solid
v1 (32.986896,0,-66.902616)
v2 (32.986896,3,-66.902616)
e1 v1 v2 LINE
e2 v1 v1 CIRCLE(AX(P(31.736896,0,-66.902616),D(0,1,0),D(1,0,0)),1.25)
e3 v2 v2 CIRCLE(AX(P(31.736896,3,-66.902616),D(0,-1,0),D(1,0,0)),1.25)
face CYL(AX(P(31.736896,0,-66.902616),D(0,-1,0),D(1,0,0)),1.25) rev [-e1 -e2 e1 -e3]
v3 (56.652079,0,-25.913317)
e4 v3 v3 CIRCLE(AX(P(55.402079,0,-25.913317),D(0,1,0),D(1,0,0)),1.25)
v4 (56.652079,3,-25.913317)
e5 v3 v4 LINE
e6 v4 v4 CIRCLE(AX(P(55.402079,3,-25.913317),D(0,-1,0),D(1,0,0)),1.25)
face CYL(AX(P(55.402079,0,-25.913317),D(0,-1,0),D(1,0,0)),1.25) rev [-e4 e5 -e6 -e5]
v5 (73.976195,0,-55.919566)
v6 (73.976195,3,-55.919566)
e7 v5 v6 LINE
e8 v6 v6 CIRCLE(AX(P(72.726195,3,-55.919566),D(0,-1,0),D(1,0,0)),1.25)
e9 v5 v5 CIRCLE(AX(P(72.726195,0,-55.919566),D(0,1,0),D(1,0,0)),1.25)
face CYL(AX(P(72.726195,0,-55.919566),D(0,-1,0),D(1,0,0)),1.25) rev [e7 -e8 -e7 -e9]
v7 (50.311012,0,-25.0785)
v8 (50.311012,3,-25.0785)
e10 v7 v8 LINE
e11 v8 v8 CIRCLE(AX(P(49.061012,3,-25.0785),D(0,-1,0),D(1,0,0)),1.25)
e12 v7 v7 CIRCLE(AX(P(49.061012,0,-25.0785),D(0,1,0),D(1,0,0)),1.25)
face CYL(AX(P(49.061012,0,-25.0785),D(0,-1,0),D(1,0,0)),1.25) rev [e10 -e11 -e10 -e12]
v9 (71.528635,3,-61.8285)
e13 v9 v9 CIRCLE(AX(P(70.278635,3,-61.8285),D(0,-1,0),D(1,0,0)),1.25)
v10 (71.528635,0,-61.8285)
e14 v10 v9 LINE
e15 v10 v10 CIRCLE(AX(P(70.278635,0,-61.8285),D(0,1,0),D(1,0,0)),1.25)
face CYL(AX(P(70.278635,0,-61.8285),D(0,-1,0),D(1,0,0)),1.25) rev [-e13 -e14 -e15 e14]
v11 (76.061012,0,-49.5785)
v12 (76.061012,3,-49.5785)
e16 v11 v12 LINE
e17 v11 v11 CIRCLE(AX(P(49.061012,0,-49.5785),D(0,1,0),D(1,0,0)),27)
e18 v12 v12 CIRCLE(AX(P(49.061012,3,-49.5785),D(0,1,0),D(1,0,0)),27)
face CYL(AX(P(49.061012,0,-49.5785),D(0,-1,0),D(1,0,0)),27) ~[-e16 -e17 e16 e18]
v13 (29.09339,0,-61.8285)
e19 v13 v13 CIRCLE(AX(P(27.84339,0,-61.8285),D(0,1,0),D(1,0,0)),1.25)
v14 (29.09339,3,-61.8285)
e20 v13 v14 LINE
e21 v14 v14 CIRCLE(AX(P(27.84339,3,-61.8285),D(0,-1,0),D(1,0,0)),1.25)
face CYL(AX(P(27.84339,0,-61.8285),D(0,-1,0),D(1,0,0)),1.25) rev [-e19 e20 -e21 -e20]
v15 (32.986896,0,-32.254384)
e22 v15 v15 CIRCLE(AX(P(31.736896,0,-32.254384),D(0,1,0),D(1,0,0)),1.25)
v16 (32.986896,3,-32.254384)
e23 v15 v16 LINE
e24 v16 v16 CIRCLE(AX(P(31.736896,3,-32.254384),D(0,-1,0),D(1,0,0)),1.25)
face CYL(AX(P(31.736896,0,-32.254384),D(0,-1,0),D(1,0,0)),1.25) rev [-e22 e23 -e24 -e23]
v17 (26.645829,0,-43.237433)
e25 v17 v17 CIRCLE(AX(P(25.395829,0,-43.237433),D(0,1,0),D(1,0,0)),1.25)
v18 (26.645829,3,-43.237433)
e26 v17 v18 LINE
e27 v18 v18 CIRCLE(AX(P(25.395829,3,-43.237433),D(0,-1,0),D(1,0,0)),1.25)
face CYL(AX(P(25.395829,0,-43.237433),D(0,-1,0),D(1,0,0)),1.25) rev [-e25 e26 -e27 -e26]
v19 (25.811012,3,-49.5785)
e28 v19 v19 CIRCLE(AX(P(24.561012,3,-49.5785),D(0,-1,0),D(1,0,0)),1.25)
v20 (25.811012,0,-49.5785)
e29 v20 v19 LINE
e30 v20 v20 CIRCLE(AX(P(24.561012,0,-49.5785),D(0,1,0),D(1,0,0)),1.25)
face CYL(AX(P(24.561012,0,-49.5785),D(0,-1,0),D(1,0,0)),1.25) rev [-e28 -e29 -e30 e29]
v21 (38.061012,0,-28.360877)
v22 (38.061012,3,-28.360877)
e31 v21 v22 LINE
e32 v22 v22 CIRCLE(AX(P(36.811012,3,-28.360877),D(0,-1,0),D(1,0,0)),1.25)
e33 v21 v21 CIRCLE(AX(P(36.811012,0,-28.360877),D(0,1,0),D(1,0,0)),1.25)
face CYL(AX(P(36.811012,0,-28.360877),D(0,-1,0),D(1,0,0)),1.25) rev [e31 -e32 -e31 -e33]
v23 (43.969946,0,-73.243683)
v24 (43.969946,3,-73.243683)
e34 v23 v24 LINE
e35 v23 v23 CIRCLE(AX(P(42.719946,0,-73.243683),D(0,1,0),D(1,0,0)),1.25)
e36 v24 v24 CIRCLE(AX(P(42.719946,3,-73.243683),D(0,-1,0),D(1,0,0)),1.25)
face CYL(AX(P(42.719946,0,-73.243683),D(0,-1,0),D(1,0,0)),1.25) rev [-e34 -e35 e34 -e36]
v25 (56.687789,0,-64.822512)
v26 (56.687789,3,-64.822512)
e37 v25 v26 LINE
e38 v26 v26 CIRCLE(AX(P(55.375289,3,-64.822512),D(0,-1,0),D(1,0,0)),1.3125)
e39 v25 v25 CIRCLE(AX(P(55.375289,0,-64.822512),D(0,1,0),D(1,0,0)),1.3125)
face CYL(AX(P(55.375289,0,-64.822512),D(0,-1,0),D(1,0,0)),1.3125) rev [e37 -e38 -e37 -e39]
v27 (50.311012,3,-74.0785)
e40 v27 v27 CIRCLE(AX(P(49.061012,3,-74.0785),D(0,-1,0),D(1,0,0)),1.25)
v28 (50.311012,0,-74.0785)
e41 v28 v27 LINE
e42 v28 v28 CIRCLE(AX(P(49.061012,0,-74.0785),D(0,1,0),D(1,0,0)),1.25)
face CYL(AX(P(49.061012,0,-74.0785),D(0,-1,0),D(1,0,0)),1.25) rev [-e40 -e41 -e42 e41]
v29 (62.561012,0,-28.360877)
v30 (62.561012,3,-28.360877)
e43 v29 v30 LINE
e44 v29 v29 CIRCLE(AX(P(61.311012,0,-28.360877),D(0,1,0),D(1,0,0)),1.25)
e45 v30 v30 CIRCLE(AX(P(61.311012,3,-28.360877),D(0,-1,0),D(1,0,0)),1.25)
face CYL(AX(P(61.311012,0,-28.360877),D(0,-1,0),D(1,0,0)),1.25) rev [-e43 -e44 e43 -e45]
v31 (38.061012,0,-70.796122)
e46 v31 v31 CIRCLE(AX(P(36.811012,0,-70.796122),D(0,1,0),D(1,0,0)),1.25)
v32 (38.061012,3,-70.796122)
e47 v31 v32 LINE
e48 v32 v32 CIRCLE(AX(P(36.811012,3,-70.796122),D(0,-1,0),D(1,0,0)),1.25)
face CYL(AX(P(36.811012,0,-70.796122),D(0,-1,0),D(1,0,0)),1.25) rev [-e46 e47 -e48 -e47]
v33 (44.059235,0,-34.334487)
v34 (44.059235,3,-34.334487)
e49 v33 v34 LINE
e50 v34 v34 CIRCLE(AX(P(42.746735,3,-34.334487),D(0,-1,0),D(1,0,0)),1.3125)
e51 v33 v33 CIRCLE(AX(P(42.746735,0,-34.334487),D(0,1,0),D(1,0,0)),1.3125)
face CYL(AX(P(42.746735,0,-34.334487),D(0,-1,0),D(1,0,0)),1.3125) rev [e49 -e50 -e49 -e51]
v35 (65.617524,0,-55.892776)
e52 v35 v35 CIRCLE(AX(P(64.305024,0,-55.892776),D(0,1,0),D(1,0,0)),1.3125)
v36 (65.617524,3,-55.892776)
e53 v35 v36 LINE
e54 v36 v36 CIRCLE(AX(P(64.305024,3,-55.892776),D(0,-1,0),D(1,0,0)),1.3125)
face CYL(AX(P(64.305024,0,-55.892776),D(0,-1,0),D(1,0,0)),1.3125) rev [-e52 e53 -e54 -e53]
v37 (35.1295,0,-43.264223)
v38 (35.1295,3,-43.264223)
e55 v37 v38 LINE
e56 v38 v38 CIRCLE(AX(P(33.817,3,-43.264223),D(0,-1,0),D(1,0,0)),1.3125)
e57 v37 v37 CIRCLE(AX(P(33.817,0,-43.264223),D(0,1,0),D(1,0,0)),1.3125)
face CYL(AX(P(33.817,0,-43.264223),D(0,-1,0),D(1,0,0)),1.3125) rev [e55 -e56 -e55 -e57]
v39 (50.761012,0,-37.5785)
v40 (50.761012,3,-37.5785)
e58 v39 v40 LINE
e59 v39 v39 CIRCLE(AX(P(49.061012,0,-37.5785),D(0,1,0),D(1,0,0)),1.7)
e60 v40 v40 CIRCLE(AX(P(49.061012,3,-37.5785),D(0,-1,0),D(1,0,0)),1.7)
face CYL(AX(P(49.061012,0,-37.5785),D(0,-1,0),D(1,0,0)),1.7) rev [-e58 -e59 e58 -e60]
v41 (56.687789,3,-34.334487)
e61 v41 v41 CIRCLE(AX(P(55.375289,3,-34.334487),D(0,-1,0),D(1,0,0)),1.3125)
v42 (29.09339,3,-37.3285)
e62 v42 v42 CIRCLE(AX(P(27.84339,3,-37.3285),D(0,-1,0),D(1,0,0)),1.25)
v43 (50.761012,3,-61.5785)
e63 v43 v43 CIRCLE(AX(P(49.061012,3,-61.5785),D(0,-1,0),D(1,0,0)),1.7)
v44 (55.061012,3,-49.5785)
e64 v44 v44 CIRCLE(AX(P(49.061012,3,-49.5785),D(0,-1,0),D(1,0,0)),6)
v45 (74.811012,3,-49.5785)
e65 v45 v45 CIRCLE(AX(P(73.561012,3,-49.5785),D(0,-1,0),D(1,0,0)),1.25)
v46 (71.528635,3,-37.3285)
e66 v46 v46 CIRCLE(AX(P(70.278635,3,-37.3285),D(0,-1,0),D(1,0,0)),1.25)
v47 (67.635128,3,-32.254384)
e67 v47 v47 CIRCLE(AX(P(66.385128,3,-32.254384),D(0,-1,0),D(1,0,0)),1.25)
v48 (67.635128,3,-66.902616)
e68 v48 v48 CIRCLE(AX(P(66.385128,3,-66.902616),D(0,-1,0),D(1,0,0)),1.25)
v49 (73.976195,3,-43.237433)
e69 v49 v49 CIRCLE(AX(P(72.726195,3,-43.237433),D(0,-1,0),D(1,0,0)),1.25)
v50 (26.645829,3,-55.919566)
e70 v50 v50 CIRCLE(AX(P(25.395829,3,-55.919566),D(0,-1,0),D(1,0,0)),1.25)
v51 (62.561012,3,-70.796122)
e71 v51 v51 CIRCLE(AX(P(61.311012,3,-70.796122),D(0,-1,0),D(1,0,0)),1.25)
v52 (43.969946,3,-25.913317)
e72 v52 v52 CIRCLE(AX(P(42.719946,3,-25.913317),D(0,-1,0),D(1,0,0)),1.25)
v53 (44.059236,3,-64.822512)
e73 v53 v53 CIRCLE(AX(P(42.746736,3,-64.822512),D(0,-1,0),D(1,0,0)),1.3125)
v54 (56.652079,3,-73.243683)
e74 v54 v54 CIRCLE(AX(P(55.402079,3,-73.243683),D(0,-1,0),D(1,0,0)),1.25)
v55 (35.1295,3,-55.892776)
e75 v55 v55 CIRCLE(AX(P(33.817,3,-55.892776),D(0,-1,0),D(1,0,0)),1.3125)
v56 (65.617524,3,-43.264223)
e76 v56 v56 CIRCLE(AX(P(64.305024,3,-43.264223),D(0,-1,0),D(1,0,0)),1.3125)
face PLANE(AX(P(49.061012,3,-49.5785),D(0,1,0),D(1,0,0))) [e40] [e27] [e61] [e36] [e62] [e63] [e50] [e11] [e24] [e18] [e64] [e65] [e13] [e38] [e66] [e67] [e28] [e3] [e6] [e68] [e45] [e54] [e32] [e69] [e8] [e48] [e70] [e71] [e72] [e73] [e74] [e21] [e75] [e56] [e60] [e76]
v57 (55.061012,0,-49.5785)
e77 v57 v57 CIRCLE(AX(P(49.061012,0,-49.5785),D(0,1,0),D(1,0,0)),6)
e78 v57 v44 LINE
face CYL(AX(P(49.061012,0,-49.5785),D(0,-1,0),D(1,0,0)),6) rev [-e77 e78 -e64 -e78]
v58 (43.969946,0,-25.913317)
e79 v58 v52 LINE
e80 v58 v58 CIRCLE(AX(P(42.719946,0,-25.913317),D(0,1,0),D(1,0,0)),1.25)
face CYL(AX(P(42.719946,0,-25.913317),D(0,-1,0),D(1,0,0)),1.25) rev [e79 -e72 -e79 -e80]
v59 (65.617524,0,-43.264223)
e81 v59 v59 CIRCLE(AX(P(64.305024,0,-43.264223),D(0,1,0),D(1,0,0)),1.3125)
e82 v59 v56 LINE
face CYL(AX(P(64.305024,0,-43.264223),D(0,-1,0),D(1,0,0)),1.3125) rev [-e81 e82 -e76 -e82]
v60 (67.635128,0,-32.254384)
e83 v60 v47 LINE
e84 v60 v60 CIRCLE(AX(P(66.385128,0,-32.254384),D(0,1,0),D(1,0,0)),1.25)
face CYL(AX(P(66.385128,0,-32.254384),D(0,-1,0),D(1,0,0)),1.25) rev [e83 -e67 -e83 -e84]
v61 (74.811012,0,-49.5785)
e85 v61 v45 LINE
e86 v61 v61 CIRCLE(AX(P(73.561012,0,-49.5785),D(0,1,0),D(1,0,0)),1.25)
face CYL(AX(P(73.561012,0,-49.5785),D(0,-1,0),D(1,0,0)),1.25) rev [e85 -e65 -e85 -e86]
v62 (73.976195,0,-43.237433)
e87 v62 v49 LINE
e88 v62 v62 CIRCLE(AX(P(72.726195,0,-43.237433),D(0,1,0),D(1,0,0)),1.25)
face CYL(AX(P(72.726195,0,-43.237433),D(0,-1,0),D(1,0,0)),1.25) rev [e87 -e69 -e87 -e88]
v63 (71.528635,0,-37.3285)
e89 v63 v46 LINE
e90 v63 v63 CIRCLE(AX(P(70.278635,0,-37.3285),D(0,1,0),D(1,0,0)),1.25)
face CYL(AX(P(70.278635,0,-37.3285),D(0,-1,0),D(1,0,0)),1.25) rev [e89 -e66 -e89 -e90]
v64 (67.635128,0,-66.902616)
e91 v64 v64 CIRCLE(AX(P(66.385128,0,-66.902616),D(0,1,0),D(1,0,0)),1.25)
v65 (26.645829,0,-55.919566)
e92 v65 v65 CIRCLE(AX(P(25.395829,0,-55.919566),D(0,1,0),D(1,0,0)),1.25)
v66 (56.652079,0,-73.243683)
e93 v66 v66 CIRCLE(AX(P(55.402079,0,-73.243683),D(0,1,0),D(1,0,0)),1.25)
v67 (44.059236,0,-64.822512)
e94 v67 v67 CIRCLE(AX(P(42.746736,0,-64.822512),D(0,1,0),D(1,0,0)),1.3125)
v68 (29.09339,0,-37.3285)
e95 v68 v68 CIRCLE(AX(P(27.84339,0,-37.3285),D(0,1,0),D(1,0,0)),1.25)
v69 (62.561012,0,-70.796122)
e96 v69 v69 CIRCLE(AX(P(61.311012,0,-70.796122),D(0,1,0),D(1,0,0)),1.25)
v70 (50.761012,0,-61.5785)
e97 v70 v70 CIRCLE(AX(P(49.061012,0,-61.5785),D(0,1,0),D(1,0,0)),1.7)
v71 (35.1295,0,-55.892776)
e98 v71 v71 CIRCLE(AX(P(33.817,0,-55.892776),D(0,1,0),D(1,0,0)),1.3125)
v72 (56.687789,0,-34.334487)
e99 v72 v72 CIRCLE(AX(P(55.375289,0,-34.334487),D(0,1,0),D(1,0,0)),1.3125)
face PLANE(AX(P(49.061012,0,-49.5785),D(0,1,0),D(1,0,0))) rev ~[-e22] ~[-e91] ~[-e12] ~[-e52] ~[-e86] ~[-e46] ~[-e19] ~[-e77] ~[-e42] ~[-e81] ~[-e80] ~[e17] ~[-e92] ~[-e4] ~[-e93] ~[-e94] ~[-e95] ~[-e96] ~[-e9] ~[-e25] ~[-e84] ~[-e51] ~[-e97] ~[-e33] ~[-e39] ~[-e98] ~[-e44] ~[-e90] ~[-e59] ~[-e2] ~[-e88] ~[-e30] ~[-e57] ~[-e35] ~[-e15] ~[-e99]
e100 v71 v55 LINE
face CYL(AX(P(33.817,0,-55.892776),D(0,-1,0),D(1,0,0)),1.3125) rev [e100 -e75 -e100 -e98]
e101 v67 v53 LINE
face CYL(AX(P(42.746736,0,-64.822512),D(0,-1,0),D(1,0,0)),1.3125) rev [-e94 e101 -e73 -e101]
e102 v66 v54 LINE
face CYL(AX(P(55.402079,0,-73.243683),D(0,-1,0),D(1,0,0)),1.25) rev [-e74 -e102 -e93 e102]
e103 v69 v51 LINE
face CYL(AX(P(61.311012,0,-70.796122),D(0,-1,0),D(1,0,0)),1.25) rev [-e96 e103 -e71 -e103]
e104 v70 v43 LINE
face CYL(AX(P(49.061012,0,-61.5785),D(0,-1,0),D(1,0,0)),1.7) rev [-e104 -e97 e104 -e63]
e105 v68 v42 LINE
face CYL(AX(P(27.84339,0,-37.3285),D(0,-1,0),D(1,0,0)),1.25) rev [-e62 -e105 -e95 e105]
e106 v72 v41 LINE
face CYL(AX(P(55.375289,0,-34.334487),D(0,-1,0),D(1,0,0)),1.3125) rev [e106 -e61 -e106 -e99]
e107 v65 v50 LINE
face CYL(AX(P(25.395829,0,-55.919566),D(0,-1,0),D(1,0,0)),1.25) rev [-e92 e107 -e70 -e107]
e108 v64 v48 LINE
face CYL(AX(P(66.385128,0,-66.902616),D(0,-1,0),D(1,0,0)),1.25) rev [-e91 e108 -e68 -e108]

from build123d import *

# Parameters (mm, degrees)
SKETCH8_R           = 27
BOSS_EXTRUDE1_DEPTH = 3
CUT_EXTRUDE1_REACH  = 109.975
SKETCH6_R           = 6
CUT_EXTRUDE2_REACH  = 109.975
SKETCH7_R           = 1.7
CUT_EXTRUDE3_REACH  = 109.975
SKETCH9_R           = 1.25
CUT_EXTRUDE4_REACH  = 109.975
SKETCH11_R          = 1.3125


with BuildPart() as part:
    # Sketch8 → Boss-Extrude1 (new body)
    with BuildSketch(Plane(origin=(0, 0, 0), x_dir=(1, 0, 0), z_dir=(0, 1, 0))):
        with Locations((49.061012395, 49.578499829)):
            Circle(SKETCH8_R)
    extrude(amount=BOSS_EXTRUDE1_DEPTH)

    # Sketch6 → Cut-Extrude1 (cut, up to next)
    with BuildSketch(Plane(origin=(0, 0, 0), x_dir=(1, 0, 0), z_dir=(0, 1, 0)), mode=Mode.PRIVATE) as cut_extrude1_sk1:
        with Locations((49.061012163, 49.578499597)):
            Circle(SKETCH6_R)
    cut_extrude1_tool1 = extrude(cut_extrude1_sk1.sketch, amount=CUT_EXTRUDE1_REACH, mode=Mode.PRIVATE) & part.part
    add(cut_extrude1_tool1.solids().sort_by_distance((49.061012, 0, -49.5785))[0], mode=Mode.SUBTRACT)

    # Sketch7 → Cut-Extrude2 (cut, up to next)
    with BuildSketch(Plane(origin=(0, 0, 0), x_dir=(1, 0, 0), z_dir=(0, 1, 0)), mode=Mode.PRIVATE) as cut_extrude2_sk1:
        with Locations((49.061012163, 61.578499829)):
            Circle(SKETCH7_R)
    cut_extrude2_tool1 = extrude(cut_extrude2_sk1.sketch, amount=CUT_EXTRUDE2_REACH, mode=Mode.PRIVATE) & part.part
    # Sketch7 → Cut-Extrude2 (cut, up to next)
    with BuildSketch(Plane(origin=(0, 0, 0), x_dir=(1, 0, 0), z_dir=(0, 1, 0)), mode=Mode.PRIVATE) as cut_extrude2_sk2:
        with Locations((49.061012163, 37.578499829)):
            Circle(SKETCH7_R)
    cut_extrude2_tool2 = extrude(cut_extrude2_sk2.sketch, amount=CUT_EXTRUDE2_REACH, mode=Mode.PRIVATE) & part.part
    add(cut_extrude2_tool1.solids().sort_by_distance((49.061012, 0, -61.5785))[0], mode=Mode.SUBTRACT)
    add(cut_extrude2_tool2.solids().sort_by_distance((49.061012, 0, -37.5785))[0], mode=Mode.SUBTRACT)

    # Sketch9 → Cut-Extrude3 (cut, up to next)
    with BuildSketch(Plane(origin=(0, 0, 0), x_dir=(1, 0, 0), z_dir=(0, 1, 0)), mode=Mode.PRIVATE) as cut_extrude3_sk1:
        with Locations((49.061012163, 74.078499829)):
            Circle(SKETCH9_R)
    cut_extrude3_tool1 = extrude(cut_extrude3_sk1.sketch, amount=CUT_EXTRUDE3_REACH, mode=Mode.PRIVATE) & part.part
    # Sketch9 → Cut-Extrude3 (cut, up to next)
    with BuildSketch(Plane(origin=(0, 0, 0), x_dir=(1, 0, 0), z_dir=(0, 1, 0)), mode=Mode.PRIVATE) as cut_extrude3_sk2:
        with Locations((55.402078768, 73.243682573)):
            Circle(SKETCH9_R)
    cut_extrude3_tool2 = extrude(cut_extrude3_sk2.sketch, amount=CUT_EXTRUDE3_REACH, mode=Mode.PRIVATE) & part.part
    # Sketch9 → Cut-Extrude3 (cut, up to next)
    with BuildSketch(Plane(origin=(0, 0, 0), x_dir=(1, 0, 0), z_dir=(0, 1, 0)), mode=Mode.PRIVATE) as cut_extrude3_sk3:
        with Locations((61.311012163, 70.796122222)):
            Circle(SKETCH9_R)
    cut_extrude3_tool3 = extrude(cut_extrude3_sk3.sketch, amount=CUT_EXTRUDE3_REACH, mode=Mode.PRIVATE) & part.part
    # Sketch9 → Cut-Extrude3 (cut, up to next)
    with BuildSketch(Plane(origin=(0, 0, 0), x_dir=(1, 0, 0), z_dir=(0, 1, 0)), mode=Mode.PRIVATE) as cut_extrude3_sk4:
        with Locations((66.385128302, 66.902615968)):
            Circle(SKETCH9_R)
    cut_extrude3_tool4 = extrude(cut_extrude3_sk4.sketch, amount=CUT_EXTRUDE3_REACH, mode=Mode.PRIVATE) & part.part
    # Sketch9 → Cut-Extrude3 (cut, up to next)
    with BuildSketch(Plane(origin=(0, 0, 0), x_dir=(1, 0, 0), z_dir=(0, 1, 0)), mode=Mode.PRIVATE) as cut_extrude3_sk5:
        with Locations((70.278634556, 61.828499829)):
            Circle(SKETCH9_R)
    cut_extrude3_tool5 = extrude(cut_extrude3_sk5.sketch, amount=CUT_EXTRUDE3_REACH, mode=Mode.PRIVATE) & part.part
    # Sketch9 → Cut-Extrude3 (cut, up to next)
    with BuildSketch(Plane(origin=(0, 0, 0), x_dir=(1, 0, 0), z_dir=(0, 1, 0)), mode=Mode.PRIVATE) as cut_extrude3_sk6:
        with Locations((72.726194907, 55.919566434)):
            Circle(SKETCH9_R)
    cut_extrude3_tool6 = extrude(cut_extrude3_sk6.sketch, amount=CUT_EXTRUDE3_REACH, mode=Mode.PRIVATE) & part.part
    # Sketch9 → Cut-Extrude3 (cut, up to next)
    with BuildSketch(Plane(origin=(0, 0, 0), x_dir=(1, 0, 0), z_dir=(0, 1, 0)), mode=Mode.PRIVATE) as cut_extrude3_sk7:
        with Locations((73.561012163, 49.578499829)):
            Circle(SKETCH9_R)
    cut_extrude3_tool7 = extrude(cut_extrude3_sk7.sketch, amount=CUT_EXTRUDE3_REACH, mode=Mode.PRIVATE) & part.part
    # Sketch9 → Cut-Extrude3 (cut, up to next)
    with BuildSketch(Plane(origin=(0, 0, 0), x_dir=(1, 0, 0), z_dir=(0, 1, 0)), mode=Mode.PRIVATE) as cut_extrude3_sk8:
        with Locations((72.726194907, 43.237433224)):
            Circle(SKETCH9_R)
    cut_extrude3_tool8 = extrude(cut_extrude3_sk8.sketch, amount=CUT_EXTRUDE3_REACH, mode=Mode.PRIVATE) & part.part
    # Sketch9 → Cut-Extrude3 (cut, up to next)
    with BuildSketch(Plane(origin=(0, 0, 0), x_dir=(1, 0, 0), z_dir=(0, 1, 0)), mode=Mode.PRIVATE) as cut_extrude3_sk9:
        with Locations((70.278634556, 37.328499829)):
            Circle(SKETCH9_R)
    cut_extrude3_tool9 = extrude(cut_extrude3_sk9.sketch, amount=CUT_EXTRUDE3_REACH, mode=Mode.PRIVATE) & part.part
    # Sketch9 → Cut-Extrude3 (cut, up to next)
    with BuildSketch(Plane(origin=(0, 0, 0), x_dir=(1, 0, 0), z_dir=(0, 1, 0)), mode=Mode.PRIVATE) as cut_extrude3_sk10:
        with Locations((66.385128302, 32.25438369)):
            Circle(SKETCH9_R)
    cut_extrude3_tool10 = extrude(cut_extrude3_sk10.sketch, amount=CUT_EXTRUDE3_REACH, mode=Mode.PRIVATE) & part.part
    # Sketch9 → Cut-Extrude3 (cut, up to next)
    with BuildSketch(Plane(origin=(0, 0, 0), x_dir=(1, 0, 0), z_dir=(0, 1, 0)), mode=Mode.PRIVATE) as cut_extrude3_sk11:
        with Locations((61.311012163, 28.360877436)):
            Circle(SKETCH9_R)
    cut_extrude3_tool11 = extrude(cut_extrude3_sk11.sketch, amount=CUT_EXTRUDE3_REACH, mode=Mode.PRIVATE) & part.part
    # Sketch9 → Cut-Extrude3 (cut, up to next)
    with BuildSketch(Plane(origin=(0, 0, 0), x_dir=(1, 0, 0), z_dir=(0, 1, 0)), mode=Mode.PRIVATE) as cut_extrude3_sk12:
        with Locations((55.402078768, 25.913317085)):
            Circle(SKETCH9_R)
    cut_extrude3_tool12 = extrude(cut_extrude3_sk12.sketch, amount=CUT_EXTRUDE3_REACH, mode=Mode.PRIVATE) & part.part
    # Sketch9 → Cut-Extrude3 (cut, up to next)
    with BuildSketch(Plane(origin=(0, 0, 0), x_dir=(1, 0, 0), z_dir=(0, 1, 0)), mode=Mode.PRIVATE) as cut_extrude3_sk13:
        with Locations((49.061012163, 25.078499829)):
            Circle(SKETCH9_R)
    cut_extrude3_tool13 = extrude(cut_extrude3_sk13.sketch, amount=CUT_EXTRUDE3_REACH, mode=Mode.PRIVATE) & part.part
    # Sketch9 → Cut-Extrude3 (cut, up to next)
    with BuildSketch(Plane(origin=(0, 0, 0), x_dir=(1, 0, 0), z_dir=(0, 1, 0)), mode=Mode.PRIVATE) as cut_extrude3_sk14:
        with Locations((42.719945558, 25.913317085)):
            Circle(SKETCH9_R)
    cut_extrude3_tool14 = extrude(cut_extrude3_sk14.sketch, amount=CUT_EXTRUDE3_REACH, mode=Mode.PRIVATE) & part.part
    # Sketch9 → Cut-Extrude3 (cut, up to next)
    with BuildSketch(Plane(origin=(0, 0, 0), x_dir=(1, 0, 0), z_dir=(0, 1, 0)), mode=Mode.PRIVATE) as cut_extrude3_sk15:
        with Locations((36.811012163, 28.360877436)):
            Circle(SKETCH9_R)
    cut_extrude3_tool15 = extrude(cut_extrude3_sk15.sketch, amount=CUT_EXTRUDE3_REACH, mode=Mode.PRIVATE) & part.part
    # Sketch9 → Cut-Extrude3 (cut, up to next)
    with BuildSketch(Plane(origin=(0, 0, 0), x_dir=(1, 0, 0), z_dir=(0, 1, 0)), mode=Mode.PRIVATE) as cut_extrude3_sk16:
        with Locations((31.736896024, 32.25438369)):
            Circle(SKETCH9_R)
    cut_extrude3_tool16 = extrude(cut_extrude3_sk16.sketch, amount=CUT_EXTRUDE3_REACH, mode=Mode.PRIVATE) & part.part
    # Sketch9 → Cut-Extrude3 (cut, up to next)
    with BuildSketch(Plane(origin=(0, 0, 0), x_dir=(1, 0, 0), z_dir=(0, 1, 0)), mode=Mode.PRIVATE) as cut_extrude3_sk17:
        with Locations((27.84338977, 37.328499829)):
            Circle(SKETCH9_R)
    cut_extrude3_tool17 = extrude(cut_extrude3_sk17.sketch, amount=CUT_EXTRUDE3_REACH, mode=Mode.PRIVATE) & part.part
    # Sketch9 → Cut-Extrude3 (cut, up to next)
    with BuildSketch(Plane(origin=(0, 0, 0), x_dir=(1, 0, 0), z_dir=(0, 1, 0)), mode=Mode.PRIVATE) as cut_extrude3_sk18:
        with Locations((25.395829419, 43.237433224)):
            Circle(SKETCH9_R)
    cut_extrude3_tool18 = extrude(cut_extrude3_sk18.sketch, amount=CUT_EXTRUDE3_REACH, mode=Mode.PRIVATE) & part.part
    # Sketch9 → Cut-Extrude3 (cut, up to next)
    with BuildSketch(Plane(origin=(0, 0, 0), x_dir=(1, 0, 0), z_dir=(0, 1, 0)), mode=Mode.PRIVATE) as cut_extrude3_sk19:
        with Locations((24.561012163, 49.578499829)):
            Circle(SKETCH9_R)
    cut_extrude3_tool19 = extrude(cut_extrude3_sk19.sketch, amount=CUT_EXTRUDE3_REACH, mode=Mode.PRIVATE) & part.part
    # Sketch9 → Cut-Extrude3 (cut, up to next)
    with BuildSketch(Plane(origin=(0, 0, 0), x_dir=(1, 0, 0), z_dir=(0, 1, 0)), mode=Mode.PRIVATE) as cut_extrude3_sk20:
        with Locations((25.395829419, 55.919566434)):
            Circle(SKETCH9_R)
    cut_extrude3_tool20 = extrude(cut_extrude3_sk20.sketch, amount=CUT_EXTRUDE3_REACH, mode=Mode.PRIVATE) & part.part
    # Sketch9 → Cut-Extrude3 (cut, up to next)
    with BuildSketch(Plane(origin=(0, 0, 0), x_dir=(1, 0, 0), z_dir=(0, 1, 0)), mode=Mode.PRIVATE) as cut_extrude3_sk21:
        with Locations((27.84338977, 61.828499829)):
            Circle(SKETCH9_R)
    cut_extrude3_tool21 = extrude(cut_extrude3_sk21.sketch, amount=CUT_EXTRUDE3_REACH, mode=Mode.PRIVATE) & part.part
    # Sketch9 → Cut-Extrude3 (cut, up to next)
    with BuildSketch(Plane(origin=(0, 0, 0), x_dir=(1, 0, 0), z_dir=(0, 1, 0)), mode=Mode.PRIVATE) as cut_extrude3_sk22:
        with Locations((31.736896024, 66.902615968)):
            Circle(SKETCH9_R)
    cut_extrude3_tool22 = extrude(cut_extrude3_sk22.sketch, amount=CUT_EXTRUDE3_REACH, mode=Mode.PRIVATE) & part.part
    # Sketch9 → Cut-Extrude3 (cut, up to next)
    with BuildSketch(Plane(origin=(0, 0, 0), x_dir=(1, 0, 0), z_dir=(0, 1, 0)), mode=Mode.PRIVATE) as cut_extrude3_sk23:
        with Locations((36.811012163, 70.796122222)):
            Circle(SKETCH9_R)
    cut_extrude3_tool23 = extrude(cut_extrude3_sk23.sketch, amount=CUT_EXTRUDE3_REACH, mode=Mode.PRIVATE) & part.part
    # Sketch9 → Cut-Extrude3 (cut, up to next)
    with BuildSketch(Plane(origin=(0, 0, 0), x_dir=(1, 0, 0), z_dir=(0, 1, 0)), mode=Mode.PRIVATE) as cut_extrude3_sk24:
        with Locations((42.719945558, 73.243682573)):
            Circle(SKETCH9_R)
    cut_extrude3_tool24 = extrude(cut_extrude3_sk24.sketch, amount=CUT_EXTRUDE3_REACH, mode=Mode.PRIVATE) & part.part
    add(cut_extrude3_tool1.solids().sort_by_distance((49.061012, 0, -74.0785))[0], mode=Mode.SUBTRACT)
    add(cut_extrude3_tool2.solids().sort_by_distance((55.402079, 0, -73.243683))[0], mode=Mode.SUBTRACT)
    add(cut_extrude3_tool3.solids().sort_by_distance((61.311012, 0, -70.796122))[0], mode=Mode.SUBTRACT)
    add(cut_extrude3_tool4.solids().sort_by_distance((66.385128, 0, -66.902616))[0], mode=Mode.SUBTRACT)
    add(cut_extrude3_tool5.solids().sort_by_distance((70.278635, 0, -61.8285))[0], mode=Mode.SUBTRACT)
    add(cut_extrude3_tool6.solids().sort_by_distance((72.726195, 0, -55.919566))[0], mode=Mode.SUBTRACT)
    add(cut_extrude3_tool7.solids().sort_by_distance((73.561012, 0, -49.5785))[0], mode=Mode.SUBTRACT)
    add(cut_extrude3_tool8.solids().sort_by_distance((72.726195, 0, -43.237433))[0], mode=Mode.SUBTRACT)
    add(cut_extrude3_tool9.solids().sort_by_distance((70.278635, 0, -37.3285))[0], mode=Mode.SUBTRACT)
    add(cut_extrude3_tool10.solids().sort_by_distance((66.385128, 0, -32.254384))[0], mode=Mode.SUBTRACT)
    add(cut_extrude3_tool11.solids().sort_by_distance((61.311012, 0, -28.360877))[0], mode=Mode.SUBTRACT)
    add(cut_extrude3_tool12.solids().sort_by_distance((55.402079, 0, -25.913317))[0], mode=Mode.SUBTRACT)
    add(cut_extrude3_tool13.solids().sort_by_distance((49.061012, 0, -25.0785))[0], mode=Mode.SUBTRACT)
    add(cut_extrude3_tool14.solids().sort_by_distance((42.719946, 0, -25.913317))[0], mode=Mode.SUBTRACT)
    add(cut_extrude3_tool15.solids().sort_by_distance((36.811012, 0, -28.360877))[0], mode=Mode.SUBTRACT)
    add(cut_extrude3_tool16.solids().sort_by_distance((31.736896, 0, -32.254384))[0], mode=Mode.SUBTRACT)
    add(cut_extrude3_tool17.solids().sort_by_distance((27.84339, 0, -37.3285))[0], mode=Mode.SUBTRACT)
    add(cut_extrude3_tool18.solids().sort_by_distance((25.395829, 0, -43.237433))[0], mode=Mode.SUBTRACT)
    add(cut_extrude3_tool19.solids().sort_by_distance((24.561012, 0, -49.5785))[0], mode=Mode.SUBTRACT)
    add(cut_extrude3_tool20.solids().sort_by_distance((25.395829, 0, -55.919566))[0], mode=Mode.SUBTRACT)
    add(cut_extrude3_tool21.solids().sort_by_distance((27.84339, 0, -61.8285))[0], mode=Mode.SUBTRACT)
    add(cut_extrude3_tool22.solids().sort_by_distance((31.736896, 0, -66.902616))[0], mode=Mode.SUBTRACT)
    add(cut_extrude3_tool23.solids().sort_by_distance((36.811012, 0, -70.796122))[0], mode=Mode.SUBTRACT)
    add(cut_extrude3_tool24.solids().sort_by_distance((42.719946, 0, -73.243683))[0], mode=Mode.SUBTRACT)

    # Sketch11 → Cut-Extrude4 (cut, up to next)
    with BuildSketch(Plane(origin=(0, 0, 0), x_dir=(1, 0, 0), z_dir=(0, 1, 0)), mode=Mode.PRIVATE) as cut_extrude4_sk1:
        with Locations((55.375288913, 64.822511836)):
            Circle(SKETCH11_R)
    cut_extrude4_tool1 = extrude(cut_extrude4_sk1.sketch, amount=CUT_EXTRUDE4_REACH, mode=Mode.PRIVATE) & part.part
    # Sketch11 → Cut-Extrude4 (cut, up to next)
    with BuildSketch(Plane(origin=(0, 0, 0), x_dir=(1, 0, 0), z_dir=(0, 1, 0)), mode=Mode.PRIVATE) as cut_extrude4_sk2:
        with Locations((64.305024498, 55.892776115)):
            Circle(SKETCH11_R)
    cut_extrude4_tool2 = extrude(cut_extrude4_sk2.sketch, amount=CUT_EXTRUDE4_REACH, mode=Mode.PRIVATE) & part.part
    # Sketch11 → Cut-Extrude4 (cut, up to next)
    with BuildSketch(Plane(origin=(0, 0, 0), x_dir=(1, 0, 0), z_dir=(0, 1, 0)), mode=Mode.PRIVATE) as cut_extrude4_sk3:
        with Locations((64.305024402, 43.264222847)):
            Circle(SKETCH11_R)
    cut_extrude4_tool3 = extrude(cut_extrude4_sk3.sketch, amount=CUT_EXTRUDE4_REACH, mode=Mode.PRIVATE) & part.part
    # Sketch11 → Cut-Extrude4 (cut, up to next)
    with BuildSketch(Plane(origin=(0, 0, 0), x_dir=(1, 0, 0), z_dir=(0, 1, 0)), mode=Mode.PRIVATE) as cut_extrude4_sk4:
        with Locations((55.375288681, 34.334487263)):
            Circle(SKETCH11_R)
    cut_extrude4_tool4 = extrude(cut_extrude4_sk4.sketch, amount=CUT_EXTRUDE4_REACH, mode=Mode.PRIVATE) & part.part
    # Sketch11 → Cut-Extrude4 (cut, up to next)
    with BuildSketch(Plane(origin=(0, 0, 0), x_dir=(1, 0, 0), z_dir=(0, 1, 0)), mode=Mode.PRIVATE) as cut_extrude4_sk5:
        with Locations((42.746735413, 34.334487359)):
            Circle(SKETCH11_R)
    cut_extrude4_tool5 = extrude(cut_extrude4_sk5.sketch, amount=CUT_EXTRUDE4_REACH, mode=Mode.PRIVATE) & part.part
    # Sketch11 → Cut-Extrude4 (cut, up to next)
    with BuildSketch(Plane(origin=(0, 0, 0), x_dir=(1, 0, 0), z_dir=(0, 1, 0)), mode=Mode.PRIVATE) as cut_extrude4_sk6:
        with Locations((33.816999829, 43.264223079)):
            Circle(SKETCH11_R)
    cut_extrude4_tool6 = extrude(cut_extrude4_sk6.sketch, amount=CUT_EXTRUDE4_REACH, mode=Mode.PRIVATE) & part.part
    # Sketch11 → Cut-Extrude4 (cut, up to next)
    with BuildSketch(Plane(origin=(0, 0, 0), x_dir=(1, 0, 0), z_dir=(0, 1, 0)), mode=Mode.PRIVATE) as cut_extrude4_sk7:
        with Locations((33.816999925, 55.892776347)):
            Circle(SKETCH11_R)
    cut_extrude4_tool7 = extrude(cut_extrude4_sk7.sketch, amount=CUT_EXTRUDE4_REACH, mode=Mode.PRIVATE) & part.part
    # Sketch11 → Cut-Extrude4 (cut, up to next)
    with BuildSketch(Plane(origin=(0, 0, 0), x_dir=(1, 0, 0), z_dir=(0, 1, 0)), mode=Mode.PRIVATE) as cut_extrude4_sk8:
        with Locations((42.746735645, 64.822511932)):
            Circle(SKETCH11_R)
    cut_extrude4_tool8 = extrude(cut_extrude4_sk8.sketch, amount=CUT_EXTRUDE4_REACH, mode=Mode.PRIVATE) & part.part
    add(cut_extrude4_tool1.solids().sort_by_distance((55.375289, 0, -64.822512))[0], mode=Mode.SUBTRACT)
    add(cut_extrude4_tool2.solids().sort_by_distance((64.305024, 0, -55.892776))[0], mode=Mode.SUBTRACT)
    add(cut_extrude4_tool3.solids().sort_by_distance((64.305024, 0, -43.264223))[0], mode=Mode.SUBTRACT)
    add(cut_extrude4_tool4.solids().sort_by_distance((55.375289, 0, -34.334487))[0], mode=Mode.SUBTRACT)
    add(cut_extrude4_tool5.solids().sort_by_distance((42.746735, 0, -34.334487))[0], mode=Mode.SUBTRACT)
    add(cut_extrude4_tool6.solids().sort_by_distance((33.817, 0, -43.264223))[0], mode=Mode.SUBTRACT)
    add(cut_extrude4_tool7.solids().sort_by_distance((33.817, 0, -55.892776))[0], mode=Mode.SUBTRACT)
    add(cut_extrude4_tool8.solids().sort_by_distance((42.746736, 0, -64.822512))[0], mode=Mode.SUBTRACT)


solid = part.part
